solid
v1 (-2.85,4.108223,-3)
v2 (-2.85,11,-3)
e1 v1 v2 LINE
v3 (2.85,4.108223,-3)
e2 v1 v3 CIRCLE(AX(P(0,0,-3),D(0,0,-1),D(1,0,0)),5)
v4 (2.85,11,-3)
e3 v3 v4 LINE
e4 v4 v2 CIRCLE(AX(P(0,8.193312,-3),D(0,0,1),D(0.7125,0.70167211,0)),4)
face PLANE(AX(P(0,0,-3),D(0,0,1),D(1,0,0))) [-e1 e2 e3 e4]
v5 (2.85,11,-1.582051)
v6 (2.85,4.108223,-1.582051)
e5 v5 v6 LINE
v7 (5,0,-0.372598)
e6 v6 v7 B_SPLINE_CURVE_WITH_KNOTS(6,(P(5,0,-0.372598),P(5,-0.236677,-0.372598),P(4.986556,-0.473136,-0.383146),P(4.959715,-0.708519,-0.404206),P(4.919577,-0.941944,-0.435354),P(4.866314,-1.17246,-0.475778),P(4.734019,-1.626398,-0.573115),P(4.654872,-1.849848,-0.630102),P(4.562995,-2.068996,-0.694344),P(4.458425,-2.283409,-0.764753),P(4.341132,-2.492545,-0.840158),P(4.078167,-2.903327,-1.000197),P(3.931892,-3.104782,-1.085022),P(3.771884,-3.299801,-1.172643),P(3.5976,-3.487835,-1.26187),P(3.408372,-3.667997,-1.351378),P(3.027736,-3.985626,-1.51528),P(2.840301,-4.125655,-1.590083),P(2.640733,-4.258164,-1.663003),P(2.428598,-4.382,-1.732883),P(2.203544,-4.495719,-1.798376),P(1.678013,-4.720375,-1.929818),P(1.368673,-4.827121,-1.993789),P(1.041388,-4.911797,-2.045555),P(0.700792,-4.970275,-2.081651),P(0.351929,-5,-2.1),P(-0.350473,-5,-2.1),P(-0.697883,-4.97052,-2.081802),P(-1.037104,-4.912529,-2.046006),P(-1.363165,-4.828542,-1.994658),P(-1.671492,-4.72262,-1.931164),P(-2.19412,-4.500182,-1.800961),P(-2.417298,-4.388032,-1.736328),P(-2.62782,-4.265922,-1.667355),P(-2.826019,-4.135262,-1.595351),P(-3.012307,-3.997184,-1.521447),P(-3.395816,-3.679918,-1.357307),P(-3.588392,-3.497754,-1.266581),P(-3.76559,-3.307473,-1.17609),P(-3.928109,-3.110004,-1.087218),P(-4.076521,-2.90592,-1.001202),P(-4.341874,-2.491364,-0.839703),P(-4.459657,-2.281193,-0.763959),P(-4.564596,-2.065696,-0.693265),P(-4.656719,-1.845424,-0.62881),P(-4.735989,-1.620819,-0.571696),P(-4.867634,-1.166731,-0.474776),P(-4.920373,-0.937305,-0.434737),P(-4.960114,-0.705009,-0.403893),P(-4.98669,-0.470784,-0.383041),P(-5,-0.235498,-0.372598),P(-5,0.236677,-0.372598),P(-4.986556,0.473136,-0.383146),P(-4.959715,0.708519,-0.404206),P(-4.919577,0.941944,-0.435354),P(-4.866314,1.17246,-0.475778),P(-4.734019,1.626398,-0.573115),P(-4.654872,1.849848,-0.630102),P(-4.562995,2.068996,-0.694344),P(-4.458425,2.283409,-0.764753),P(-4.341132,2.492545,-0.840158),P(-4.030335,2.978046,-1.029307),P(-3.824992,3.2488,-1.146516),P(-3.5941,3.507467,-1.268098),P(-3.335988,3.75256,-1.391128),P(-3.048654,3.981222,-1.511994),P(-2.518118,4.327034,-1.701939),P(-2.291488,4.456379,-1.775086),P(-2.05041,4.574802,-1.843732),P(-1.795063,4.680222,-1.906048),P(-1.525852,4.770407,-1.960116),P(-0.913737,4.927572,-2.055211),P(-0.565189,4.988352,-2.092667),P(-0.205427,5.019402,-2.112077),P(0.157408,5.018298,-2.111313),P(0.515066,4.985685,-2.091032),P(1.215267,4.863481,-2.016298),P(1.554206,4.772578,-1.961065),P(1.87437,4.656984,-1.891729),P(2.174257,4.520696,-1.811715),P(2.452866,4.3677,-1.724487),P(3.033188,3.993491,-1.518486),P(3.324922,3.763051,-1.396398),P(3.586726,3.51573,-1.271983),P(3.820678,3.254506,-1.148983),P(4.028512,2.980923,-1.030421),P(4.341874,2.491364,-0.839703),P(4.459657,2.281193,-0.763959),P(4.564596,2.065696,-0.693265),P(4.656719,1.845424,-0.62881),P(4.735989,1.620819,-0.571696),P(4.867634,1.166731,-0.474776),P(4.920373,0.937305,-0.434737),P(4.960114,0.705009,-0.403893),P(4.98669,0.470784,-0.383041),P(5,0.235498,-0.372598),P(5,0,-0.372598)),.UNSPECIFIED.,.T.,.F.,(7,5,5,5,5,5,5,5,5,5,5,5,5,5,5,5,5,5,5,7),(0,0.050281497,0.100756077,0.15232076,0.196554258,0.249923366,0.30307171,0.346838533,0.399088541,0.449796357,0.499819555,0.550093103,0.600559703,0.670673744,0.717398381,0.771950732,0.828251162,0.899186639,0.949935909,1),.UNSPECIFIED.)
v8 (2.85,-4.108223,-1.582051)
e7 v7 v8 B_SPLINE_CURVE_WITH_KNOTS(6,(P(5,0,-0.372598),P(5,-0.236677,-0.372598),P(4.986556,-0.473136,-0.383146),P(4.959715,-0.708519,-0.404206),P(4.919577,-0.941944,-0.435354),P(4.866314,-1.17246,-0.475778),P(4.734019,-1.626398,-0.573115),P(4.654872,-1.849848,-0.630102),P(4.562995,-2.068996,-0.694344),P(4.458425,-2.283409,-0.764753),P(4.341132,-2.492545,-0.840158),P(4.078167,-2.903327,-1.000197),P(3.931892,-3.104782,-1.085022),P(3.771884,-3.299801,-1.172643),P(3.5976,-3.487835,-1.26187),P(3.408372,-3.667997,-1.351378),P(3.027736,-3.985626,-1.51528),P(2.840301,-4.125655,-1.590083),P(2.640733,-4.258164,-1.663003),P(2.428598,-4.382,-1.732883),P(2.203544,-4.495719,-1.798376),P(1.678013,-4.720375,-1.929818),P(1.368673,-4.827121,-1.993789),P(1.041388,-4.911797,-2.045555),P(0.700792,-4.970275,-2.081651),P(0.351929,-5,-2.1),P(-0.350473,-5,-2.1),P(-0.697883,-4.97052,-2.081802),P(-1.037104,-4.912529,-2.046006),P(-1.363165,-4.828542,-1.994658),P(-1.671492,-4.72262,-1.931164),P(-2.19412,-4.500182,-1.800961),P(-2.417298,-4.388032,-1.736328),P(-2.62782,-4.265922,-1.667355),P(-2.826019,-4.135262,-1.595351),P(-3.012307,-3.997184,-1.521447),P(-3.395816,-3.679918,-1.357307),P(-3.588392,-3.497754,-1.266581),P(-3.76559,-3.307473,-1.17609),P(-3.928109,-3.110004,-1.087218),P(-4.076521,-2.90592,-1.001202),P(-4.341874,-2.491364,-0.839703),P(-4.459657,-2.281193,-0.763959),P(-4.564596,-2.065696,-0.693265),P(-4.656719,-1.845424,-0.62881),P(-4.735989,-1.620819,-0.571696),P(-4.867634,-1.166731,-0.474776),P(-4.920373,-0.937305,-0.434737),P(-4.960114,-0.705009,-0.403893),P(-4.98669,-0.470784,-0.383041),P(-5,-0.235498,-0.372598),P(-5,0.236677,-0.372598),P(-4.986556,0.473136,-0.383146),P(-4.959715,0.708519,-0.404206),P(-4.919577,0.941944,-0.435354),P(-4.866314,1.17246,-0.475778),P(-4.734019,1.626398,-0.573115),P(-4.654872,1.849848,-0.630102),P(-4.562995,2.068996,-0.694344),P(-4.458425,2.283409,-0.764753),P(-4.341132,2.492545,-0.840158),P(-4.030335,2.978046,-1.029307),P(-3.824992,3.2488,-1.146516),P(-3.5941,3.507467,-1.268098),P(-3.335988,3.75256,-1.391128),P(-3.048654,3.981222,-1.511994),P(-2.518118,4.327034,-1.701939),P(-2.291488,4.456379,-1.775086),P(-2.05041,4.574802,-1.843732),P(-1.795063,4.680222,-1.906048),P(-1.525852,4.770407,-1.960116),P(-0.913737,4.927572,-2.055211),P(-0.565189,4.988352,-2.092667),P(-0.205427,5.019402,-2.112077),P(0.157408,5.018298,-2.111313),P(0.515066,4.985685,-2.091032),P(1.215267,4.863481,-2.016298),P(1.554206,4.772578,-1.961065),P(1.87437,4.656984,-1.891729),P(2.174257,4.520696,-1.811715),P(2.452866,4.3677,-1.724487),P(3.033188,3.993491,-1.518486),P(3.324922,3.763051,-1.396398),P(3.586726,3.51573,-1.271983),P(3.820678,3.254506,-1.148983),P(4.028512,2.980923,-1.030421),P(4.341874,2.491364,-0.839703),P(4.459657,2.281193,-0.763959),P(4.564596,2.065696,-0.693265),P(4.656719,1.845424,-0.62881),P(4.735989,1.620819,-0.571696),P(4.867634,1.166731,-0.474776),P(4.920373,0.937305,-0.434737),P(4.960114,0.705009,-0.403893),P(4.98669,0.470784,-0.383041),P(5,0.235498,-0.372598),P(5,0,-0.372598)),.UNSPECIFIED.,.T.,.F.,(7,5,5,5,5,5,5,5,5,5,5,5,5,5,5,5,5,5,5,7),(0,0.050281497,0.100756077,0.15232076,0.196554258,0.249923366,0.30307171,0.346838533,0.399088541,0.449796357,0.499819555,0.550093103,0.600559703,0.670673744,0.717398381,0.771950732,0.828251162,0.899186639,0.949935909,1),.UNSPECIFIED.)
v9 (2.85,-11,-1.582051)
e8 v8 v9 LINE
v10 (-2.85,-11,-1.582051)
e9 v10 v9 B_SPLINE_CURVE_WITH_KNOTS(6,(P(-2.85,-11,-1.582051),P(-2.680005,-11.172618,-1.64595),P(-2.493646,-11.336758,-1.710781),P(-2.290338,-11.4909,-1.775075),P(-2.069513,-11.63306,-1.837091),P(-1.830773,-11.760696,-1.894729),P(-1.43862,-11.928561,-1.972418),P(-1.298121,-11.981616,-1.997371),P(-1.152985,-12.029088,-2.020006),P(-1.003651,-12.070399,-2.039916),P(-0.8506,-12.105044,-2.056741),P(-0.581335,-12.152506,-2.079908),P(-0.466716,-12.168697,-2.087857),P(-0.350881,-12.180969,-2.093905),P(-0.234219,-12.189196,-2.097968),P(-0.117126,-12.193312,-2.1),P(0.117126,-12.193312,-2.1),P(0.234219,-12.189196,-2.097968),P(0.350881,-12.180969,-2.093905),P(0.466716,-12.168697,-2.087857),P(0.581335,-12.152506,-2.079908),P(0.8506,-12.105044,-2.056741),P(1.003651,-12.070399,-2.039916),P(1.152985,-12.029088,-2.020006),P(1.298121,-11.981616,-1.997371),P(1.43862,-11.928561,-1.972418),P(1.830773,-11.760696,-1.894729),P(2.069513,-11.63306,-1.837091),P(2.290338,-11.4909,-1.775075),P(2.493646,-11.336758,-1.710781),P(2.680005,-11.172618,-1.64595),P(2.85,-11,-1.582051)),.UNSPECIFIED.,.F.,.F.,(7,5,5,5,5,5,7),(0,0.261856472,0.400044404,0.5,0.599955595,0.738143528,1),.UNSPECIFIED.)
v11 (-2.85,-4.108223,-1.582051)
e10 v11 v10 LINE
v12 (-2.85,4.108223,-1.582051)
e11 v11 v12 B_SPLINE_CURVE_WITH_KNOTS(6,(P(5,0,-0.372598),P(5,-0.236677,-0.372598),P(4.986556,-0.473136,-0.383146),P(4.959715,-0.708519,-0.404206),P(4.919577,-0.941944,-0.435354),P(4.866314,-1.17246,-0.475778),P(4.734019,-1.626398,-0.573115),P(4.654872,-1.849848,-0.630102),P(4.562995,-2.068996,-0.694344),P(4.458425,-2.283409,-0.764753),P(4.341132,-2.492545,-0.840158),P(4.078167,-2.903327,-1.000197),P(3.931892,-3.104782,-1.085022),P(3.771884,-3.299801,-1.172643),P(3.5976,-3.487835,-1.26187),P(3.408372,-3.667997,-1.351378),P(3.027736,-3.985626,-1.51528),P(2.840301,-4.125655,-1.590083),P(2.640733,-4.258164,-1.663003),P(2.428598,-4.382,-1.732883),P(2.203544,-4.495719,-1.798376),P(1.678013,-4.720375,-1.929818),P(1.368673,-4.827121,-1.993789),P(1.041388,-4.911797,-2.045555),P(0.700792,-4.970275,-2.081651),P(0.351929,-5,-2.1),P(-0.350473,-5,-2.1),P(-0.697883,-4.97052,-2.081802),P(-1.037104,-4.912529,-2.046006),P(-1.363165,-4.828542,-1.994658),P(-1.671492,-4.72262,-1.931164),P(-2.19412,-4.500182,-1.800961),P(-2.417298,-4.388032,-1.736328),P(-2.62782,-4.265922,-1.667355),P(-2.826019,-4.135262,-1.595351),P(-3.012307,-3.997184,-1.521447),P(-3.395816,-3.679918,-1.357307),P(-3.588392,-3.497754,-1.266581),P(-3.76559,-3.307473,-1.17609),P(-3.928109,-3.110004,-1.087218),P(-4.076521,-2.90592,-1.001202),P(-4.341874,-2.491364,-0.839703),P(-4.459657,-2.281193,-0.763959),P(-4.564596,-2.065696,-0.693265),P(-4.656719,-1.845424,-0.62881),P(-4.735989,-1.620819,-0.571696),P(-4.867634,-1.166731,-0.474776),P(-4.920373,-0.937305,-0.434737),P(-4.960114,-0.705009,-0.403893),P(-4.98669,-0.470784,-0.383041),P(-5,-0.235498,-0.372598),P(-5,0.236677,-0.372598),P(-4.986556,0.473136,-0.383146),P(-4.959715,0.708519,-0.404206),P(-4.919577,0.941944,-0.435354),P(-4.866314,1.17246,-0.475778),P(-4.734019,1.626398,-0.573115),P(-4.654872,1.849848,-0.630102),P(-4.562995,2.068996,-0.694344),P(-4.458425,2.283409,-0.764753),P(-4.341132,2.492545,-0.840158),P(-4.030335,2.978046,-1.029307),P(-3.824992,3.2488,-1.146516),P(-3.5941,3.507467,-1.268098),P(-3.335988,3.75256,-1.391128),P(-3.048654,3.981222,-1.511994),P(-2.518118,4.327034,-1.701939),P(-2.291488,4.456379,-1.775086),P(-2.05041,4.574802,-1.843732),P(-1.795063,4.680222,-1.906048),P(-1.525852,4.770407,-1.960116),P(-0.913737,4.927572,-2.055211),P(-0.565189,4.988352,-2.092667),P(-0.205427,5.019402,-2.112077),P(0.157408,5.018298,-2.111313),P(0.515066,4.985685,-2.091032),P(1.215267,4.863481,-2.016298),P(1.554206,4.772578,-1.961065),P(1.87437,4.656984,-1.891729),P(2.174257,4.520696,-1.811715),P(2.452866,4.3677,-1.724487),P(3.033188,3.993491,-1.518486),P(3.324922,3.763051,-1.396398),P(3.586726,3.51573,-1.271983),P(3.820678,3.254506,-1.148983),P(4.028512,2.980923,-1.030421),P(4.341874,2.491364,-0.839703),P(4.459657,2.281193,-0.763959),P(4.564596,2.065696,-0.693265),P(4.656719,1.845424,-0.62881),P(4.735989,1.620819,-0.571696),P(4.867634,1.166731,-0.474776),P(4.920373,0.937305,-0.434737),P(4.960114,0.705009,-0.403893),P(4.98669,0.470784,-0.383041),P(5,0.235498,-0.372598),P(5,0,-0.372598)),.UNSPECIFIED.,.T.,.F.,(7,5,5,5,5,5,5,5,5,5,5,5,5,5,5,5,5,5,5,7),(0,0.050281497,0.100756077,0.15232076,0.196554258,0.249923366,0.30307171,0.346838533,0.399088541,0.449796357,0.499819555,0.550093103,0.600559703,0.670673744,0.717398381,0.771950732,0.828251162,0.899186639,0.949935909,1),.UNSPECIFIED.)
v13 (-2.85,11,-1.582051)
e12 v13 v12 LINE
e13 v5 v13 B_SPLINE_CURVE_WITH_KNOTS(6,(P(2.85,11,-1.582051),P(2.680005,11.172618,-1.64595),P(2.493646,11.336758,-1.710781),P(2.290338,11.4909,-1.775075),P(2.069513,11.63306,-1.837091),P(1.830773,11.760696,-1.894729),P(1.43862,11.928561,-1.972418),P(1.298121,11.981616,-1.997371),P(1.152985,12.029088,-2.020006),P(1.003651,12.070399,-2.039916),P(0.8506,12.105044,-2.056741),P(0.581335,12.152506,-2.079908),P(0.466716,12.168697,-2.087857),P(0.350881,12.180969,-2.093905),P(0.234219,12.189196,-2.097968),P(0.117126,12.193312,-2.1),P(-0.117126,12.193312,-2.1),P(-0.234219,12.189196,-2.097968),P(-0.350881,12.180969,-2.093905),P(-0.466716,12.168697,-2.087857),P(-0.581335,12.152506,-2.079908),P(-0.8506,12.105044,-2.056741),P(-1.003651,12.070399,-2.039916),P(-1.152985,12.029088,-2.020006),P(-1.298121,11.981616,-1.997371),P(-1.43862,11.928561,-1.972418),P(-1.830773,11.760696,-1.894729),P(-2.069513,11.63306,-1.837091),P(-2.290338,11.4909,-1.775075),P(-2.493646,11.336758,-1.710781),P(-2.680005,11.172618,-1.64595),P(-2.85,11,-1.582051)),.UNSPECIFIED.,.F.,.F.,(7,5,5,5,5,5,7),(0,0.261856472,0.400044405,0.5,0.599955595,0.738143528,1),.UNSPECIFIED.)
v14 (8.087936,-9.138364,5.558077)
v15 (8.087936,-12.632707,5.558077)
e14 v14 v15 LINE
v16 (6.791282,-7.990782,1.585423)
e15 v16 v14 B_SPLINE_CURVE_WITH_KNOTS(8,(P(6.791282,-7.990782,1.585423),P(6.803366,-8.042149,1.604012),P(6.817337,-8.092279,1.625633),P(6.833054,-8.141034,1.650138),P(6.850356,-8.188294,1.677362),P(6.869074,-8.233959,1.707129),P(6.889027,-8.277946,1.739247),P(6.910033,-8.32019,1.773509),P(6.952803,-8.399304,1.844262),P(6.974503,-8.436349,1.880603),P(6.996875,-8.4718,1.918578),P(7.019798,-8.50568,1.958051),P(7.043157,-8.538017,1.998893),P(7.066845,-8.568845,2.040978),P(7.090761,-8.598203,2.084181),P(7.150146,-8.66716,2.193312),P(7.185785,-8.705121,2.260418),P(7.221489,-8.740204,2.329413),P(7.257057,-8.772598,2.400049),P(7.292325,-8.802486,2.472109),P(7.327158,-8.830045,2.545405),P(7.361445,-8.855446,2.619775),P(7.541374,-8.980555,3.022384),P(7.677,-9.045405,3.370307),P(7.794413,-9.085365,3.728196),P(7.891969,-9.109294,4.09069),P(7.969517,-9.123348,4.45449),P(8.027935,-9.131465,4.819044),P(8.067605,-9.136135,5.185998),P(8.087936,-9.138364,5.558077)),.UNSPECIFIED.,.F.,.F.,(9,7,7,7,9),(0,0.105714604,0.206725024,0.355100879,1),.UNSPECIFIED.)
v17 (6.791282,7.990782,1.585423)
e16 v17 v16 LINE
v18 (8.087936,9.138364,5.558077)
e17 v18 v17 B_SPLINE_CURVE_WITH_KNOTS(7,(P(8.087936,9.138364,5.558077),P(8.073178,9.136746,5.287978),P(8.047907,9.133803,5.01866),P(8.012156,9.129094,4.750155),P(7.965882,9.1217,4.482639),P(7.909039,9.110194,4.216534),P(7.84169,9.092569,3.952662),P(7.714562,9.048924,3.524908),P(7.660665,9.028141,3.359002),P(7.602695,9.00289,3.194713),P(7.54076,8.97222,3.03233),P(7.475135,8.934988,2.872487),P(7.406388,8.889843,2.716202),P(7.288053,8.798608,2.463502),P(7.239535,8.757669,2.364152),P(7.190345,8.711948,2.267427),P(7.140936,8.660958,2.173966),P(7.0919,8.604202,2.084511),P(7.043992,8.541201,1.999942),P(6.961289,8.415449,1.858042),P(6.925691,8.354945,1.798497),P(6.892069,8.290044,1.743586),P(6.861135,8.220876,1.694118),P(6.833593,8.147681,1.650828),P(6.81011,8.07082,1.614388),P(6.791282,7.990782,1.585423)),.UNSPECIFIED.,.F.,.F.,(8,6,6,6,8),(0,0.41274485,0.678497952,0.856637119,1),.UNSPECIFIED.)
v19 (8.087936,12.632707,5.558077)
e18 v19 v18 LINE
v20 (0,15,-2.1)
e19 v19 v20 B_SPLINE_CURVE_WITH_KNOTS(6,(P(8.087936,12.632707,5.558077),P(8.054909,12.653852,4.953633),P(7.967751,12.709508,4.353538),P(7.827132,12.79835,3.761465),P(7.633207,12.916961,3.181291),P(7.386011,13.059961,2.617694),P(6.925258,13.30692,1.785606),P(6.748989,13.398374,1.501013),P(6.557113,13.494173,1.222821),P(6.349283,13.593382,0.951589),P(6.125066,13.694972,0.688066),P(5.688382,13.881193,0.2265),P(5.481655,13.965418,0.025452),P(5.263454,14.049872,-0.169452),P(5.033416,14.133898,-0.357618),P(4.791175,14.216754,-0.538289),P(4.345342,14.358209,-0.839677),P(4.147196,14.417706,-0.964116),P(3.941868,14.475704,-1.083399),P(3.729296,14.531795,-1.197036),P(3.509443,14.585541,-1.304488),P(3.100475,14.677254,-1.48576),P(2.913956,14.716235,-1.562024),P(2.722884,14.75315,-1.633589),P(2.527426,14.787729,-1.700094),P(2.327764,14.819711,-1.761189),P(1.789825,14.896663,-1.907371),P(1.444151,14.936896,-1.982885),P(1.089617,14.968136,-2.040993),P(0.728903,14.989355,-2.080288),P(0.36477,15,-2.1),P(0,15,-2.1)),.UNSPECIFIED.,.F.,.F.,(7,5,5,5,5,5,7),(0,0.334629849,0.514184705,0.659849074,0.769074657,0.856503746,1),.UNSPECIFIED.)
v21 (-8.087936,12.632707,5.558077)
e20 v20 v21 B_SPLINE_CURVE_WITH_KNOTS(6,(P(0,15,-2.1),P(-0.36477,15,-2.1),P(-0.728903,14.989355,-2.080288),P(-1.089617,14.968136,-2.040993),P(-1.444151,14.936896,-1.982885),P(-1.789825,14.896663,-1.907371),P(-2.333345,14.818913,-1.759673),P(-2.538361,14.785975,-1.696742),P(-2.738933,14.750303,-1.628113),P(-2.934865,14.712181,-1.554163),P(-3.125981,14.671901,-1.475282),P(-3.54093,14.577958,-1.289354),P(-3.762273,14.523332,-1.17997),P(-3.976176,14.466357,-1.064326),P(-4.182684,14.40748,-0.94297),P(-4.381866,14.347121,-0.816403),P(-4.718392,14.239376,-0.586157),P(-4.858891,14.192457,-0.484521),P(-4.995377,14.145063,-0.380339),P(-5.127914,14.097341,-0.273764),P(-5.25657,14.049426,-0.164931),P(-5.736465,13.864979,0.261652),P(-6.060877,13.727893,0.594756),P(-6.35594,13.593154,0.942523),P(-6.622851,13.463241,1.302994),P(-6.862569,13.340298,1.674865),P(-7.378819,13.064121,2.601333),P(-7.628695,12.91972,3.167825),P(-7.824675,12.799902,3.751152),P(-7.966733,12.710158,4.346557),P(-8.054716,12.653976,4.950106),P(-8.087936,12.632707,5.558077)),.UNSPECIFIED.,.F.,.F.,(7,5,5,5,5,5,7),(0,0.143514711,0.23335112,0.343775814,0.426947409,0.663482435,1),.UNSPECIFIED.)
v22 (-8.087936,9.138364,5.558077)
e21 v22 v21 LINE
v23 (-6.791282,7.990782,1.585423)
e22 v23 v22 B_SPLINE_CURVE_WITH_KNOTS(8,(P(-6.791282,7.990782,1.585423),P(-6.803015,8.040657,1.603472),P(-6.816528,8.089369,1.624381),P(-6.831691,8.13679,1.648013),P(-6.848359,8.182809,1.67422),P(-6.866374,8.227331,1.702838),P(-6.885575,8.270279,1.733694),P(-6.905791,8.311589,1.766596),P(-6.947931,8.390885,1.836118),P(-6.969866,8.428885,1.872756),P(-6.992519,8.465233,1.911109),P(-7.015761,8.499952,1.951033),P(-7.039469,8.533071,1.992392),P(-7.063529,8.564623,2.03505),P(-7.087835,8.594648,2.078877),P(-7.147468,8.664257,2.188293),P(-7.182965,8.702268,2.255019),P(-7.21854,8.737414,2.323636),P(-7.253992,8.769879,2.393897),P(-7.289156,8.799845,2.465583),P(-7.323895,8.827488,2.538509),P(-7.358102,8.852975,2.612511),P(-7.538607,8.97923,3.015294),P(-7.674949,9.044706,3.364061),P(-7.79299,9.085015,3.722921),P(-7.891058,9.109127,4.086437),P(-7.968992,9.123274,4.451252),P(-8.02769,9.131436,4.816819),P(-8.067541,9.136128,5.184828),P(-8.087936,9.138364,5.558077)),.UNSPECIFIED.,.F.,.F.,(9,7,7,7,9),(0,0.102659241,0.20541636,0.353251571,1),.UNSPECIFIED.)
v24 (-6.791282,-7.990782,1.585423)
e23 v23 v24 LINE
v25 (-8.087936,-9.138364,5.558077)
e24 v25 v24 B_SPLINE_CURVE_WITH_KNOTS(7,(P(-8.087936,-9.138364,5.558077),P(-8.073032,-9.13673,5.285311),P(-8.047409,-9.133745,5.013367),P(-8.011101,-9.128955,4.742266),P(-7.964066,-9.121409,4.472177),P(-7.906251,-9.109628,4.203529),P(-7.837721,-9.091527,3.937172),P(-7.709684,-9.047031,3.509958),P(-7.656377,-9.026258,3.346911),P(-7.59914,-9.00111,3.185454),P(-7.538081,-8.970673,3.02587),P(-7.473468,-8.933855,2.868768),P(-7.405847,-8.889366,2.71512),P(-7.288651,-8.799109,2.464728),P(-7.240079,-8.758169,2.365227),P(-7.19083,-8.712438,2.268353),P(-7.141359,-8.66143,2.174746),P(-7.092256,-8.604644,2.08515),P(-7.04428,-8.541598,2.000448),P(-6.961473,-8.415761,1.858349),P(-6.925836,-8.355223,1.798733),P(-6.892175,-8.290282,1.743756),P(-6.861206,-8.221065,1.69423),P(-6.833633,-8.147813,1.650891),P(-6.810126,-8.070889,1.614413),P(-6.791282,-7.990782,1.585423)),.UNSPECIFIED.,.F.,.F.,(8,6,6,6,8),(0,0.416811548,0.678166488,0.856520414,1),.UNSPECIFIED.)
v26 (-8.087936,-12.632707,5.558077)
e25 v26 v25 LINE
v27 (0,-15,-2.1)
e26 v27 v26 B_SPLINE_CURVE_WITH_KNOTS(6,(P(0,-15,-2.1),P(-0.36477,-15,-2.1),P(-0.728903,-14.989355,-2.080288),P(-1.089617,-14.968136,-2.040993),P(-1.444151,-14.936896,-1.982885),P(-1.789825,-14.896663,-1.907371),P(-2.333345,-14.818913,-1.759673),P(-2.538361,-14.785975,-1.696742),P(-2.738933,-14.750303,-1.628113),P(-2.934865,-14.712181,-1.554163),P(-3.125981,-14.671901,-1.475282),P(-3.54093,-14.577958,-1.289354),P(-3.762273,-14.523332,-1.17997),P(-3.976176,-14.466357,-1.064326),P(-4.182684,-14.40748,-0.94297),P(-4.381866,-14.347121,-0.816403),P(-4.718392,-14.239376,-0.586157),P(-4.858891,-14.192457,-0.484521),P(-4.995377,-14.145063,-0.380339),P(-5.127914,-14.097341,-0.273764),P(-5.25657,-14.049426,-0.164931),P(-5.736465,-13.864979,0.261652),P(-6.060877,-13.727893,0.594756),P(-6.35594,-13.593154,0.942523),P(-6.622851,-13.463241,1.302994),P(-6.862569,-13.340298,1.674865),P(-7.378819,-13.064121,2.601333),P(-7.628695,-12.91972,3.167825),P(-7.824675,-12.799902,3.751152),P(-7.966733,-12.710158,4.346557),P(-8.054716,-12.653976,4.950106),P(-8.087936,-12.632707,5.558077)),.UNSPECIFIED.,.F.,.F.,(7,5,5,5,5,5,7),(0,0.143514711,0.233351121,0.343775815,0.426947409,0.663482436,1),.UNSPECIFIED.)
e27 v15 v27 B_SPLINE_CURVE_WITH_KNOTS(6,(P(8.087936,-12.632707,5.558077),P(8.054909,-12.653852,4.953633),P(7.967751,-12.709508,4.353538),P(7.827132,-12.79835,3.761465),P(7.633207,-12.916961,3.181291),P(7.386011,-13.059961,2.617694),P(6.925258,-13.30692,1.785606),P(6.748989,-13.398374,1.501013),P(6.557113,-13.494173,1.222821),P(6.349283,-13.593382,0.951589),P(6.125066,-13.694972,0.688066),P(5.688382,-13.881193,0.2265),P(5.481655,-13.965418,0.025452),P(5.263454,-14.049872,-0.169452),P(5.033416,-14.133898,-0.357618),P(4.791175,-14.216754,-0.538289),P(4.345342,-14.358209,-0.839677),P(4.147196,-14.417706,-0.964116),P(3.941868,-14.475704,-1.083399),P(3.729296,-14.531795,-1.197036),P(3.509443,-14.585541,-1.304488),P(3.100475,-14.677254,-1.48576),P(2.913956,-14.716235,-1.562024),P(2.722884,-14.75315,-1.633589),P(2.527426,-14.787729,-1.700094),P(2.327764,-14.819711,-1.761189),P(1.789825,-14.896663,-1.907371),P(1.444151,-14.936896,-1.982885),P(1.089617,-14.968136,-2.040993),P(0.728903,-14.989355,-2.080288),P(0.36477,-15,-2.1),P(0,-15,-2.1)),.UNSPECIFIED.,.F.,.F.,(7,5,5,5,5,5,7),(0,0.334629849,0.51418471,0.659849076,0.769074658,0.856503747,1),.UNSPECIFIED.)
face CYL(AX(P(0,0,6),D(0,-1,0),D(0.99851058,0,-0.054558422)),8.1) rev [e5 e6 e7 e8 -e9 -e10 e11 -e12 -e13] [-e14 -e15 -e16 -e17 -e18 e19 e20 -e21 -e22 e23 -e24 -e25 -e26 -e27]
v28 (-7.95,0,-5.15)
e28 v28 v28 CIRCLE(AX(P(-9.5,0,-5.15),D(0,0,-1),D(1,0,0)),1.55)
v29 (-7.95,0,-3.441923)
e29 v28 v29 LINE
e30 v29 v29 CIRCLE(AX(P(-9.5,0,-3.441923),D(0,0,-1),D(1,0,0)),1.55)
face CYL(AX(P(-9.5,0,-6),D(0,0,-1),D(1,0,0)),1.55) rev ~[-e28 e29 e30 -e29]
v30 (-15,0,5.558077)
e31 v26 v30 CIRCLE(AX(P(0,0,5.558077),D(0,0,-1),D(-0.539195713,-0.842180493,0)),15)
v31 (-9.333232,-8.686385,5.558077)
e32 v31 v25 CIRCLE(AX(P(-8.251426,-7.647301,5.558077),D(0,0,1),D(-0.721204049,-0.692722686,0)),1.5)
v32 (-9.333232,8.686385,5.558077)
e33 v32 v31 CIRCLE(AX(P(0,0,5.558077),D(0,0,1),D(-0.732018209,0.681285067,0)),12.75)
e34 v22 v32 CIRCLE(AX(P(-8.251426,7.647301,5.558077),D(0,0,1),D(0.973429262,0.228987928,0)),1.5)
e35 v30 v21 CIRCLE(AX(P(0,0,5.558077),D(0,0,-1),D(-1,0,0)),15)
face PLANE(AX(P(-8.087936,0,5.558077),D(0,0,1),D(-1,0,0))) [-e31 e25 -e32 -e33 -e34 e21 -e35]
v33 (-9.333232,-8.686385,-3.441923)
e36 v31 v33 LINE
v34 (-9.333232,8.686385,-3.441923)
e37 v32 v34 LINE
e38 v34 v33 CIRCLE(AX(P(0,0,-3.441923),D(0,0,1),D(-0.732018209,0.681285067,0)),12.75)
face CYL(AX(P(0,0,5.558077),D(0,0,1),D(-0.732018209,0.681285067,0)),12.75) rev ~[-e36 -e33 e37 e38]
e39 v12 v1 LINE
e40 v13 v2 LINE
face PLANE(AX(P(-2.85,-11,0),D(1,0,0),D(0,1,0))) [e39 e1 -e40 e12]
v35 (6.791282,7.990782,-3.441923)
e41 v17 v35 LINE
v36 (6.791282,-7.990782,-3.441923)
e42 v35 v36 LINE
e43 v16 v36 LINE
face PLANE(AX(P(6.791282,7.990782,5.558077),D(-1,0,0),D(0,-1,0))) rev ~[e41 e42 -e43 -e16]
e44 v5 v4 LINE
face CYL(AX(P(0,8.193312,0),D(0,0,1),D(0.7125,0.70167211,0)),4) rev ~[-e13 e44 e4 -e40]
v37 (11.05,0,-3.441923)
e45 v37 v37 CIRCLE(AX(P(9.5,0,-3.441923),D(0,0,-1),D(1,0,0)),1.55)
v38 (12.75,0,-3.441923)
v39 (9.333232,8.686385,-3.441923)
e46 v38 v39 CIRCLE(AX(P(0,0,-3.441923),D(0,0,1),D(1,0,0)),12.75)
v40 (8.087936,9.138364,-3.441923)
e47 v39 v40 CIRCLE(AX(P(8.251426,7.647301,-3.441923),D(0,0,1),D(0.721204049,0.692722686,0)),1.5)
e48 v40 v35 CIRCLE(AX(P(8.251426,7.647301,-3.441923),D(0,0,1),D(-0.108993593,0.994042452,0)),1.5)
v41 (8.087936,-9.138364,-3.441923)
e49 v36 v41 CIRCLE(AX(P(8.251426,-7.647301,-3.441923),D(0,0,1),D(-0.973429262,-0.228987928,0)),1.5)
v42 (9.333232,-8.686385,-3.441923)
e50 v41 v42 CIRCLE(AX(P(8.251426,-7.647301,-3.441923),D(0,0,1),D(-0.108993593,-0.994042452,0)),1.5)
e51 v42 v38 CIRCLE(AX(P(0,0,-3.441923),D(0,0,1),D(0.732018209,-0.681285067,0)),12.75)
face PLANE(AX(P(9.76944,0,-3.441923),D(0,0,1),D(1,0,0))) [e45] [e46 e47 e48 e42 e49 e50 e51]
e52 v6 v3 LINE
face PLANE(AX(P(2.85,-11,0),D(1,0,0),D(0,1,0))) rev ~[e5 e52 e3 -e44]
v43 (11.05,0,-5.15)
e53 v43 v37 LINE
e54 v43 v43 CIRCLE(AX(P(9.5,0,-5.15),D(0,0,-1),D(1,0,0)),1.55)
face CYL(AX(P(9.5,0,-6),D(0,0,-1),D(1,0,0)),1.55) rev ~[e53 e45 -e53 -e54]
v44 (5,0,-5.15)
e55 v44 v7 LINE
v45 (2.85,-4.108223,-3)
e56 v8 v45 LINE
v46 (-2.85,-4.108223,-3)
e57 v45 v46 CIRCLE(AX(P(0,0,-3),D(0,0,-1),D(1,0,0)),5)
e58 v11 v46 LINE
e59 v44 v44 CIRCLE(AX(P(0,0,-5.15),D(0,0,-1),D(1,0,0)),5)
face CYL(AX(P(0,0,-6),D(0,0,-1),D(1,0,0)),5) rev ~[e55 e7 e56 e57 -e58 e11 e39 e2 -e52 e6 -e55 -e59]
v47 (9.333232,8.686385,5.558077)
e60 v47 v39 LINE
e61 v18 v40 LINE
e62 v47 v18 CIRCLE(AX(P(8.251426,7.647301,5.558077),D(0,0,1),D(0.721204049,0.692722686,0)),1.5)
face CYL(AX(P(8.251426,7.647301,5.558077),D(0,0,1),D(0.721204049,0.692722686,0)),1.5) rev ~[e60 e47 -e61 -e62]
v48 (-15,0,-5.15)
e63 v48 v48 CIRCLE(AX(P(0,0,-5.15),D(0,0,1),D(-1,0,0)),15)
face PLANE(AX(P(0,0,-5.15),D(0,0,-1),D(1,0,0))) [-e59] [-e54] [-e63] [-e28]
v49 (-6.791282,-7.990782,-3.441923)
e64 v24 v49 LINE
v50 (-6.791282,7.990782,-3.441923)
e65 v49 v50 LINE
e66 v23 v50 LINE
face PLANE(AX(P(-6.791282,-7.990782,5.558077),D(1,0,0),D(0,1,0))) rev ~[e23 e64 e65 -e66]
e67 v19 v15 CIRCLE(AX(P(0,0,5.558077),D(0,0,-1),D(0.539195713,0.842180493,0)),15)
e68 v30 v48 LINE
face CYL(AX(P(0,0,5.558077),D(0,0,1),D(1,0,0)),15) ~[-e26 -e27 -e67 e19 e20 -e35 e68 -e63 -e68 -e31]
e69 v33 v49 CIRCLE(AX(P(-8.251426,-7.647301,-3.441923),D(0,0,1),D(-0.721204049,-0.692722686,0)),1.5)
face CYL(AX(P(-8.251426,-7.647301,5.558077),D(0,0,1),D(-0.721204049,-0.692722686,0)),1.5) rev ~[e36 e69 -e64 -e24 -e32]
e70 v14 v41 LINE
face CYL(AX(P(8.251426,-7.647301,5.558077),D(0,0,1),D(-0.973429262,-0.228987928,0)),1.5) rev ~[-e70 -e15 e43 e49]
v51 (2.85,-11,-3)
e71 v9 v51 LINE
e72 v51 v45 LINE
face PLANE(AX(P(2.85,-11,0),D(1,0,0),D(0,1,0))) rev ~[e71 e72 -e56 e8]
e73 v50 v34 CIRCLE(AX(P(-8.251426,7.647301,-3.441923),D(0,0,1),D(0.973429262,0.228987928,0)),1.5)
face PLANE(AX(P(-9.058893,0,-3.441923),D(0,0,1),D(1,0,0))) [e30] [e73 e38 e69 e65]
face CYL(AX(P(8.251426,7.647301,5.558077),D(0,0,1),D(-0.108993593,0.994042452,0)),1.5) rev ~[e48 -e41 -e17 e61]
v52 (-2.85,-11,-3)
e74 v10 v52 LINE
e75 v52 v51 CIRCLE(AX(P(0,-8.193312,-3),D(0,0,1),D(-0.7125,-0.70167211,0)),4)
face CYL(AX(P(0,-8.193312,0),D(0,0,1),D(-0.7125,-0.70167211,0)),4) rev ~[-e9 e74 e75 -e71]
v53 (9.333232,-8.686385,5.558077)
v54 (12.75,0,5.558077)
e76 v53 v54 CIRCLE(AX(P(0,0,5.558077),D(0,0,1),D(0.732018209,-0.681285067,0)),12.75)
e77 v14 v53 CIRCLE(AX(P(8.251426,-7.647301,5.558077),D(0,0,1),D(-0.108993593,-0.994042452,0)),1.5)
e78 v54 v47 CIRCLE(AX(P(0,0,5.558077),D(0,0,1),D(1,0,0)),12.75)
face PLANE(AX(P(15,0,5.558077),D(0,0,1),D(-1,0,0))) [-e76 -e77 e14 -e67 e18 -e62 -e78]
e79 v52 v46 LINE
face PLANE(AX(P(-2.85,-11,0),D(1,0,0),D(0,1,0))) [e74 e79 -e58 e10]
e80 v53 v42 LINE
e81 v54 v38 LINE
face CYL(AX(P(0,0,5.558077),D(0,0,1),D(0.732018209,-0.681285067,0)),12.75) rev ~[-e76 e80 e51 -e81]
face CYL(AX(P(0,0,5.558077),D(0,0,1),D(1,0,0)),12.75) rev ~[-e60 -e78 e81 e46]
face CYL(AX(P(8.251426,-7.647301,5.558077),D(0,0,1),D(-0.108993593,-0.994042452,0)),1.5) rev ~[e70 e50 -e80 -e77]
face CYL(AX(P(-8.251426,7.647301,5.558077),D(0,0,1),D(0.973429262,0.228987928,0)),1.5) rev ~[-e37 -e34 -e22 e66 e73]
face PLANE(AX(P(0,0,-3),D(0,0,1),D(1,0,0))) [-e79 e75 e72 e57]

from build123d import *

# Parameters (mm, degrees)
F1_DEPTH  = 15
F3_DEPTH  = 12
F5_DEPTH  = 9
F6_R      = 5
F7_DEPTH  = 12
F8_R      = 1.55
F9_DEPTH  = 12
F10_W     = 5.7
F10_H     = 22
F11_DEPTH = 3
F12_R     = 15
F12_R_2   = 1.55
F12_R_3   = 5
F13_DEPTH = 0.85


with BuildPart() as f1:
    # F0 (on Front) → F1 (new body, symmetric)
    with BuildSketch(Plane.XZ):
        with BuildLine():
            Line((-15, -6), (0, -6))
            Line((0, -6), (0, -2.1))
            ThreePointArc((0, -2.1), (-5.5691301799, 0.1182664936), (-8.0879356988, 5.5580767803))
            Line((-8.0879356988, 5.5580767803), (-15, 5.5580767803))
            Line((-15, 5.5580767803), (-15, -6))
        make_face()
        with BuildLine():
            Line((0, -6), (15, -6))
            Line((15, -6), (15, 5.5580767803))
            Line((15, 5.5580767803), (8.0879356988, 5.5580767803))
            ThreePointArc((8.0879356988, 5.5580767803), (5.5691301799, 0.1182664936), (0, -2.1))
            Line((0, -2.1), (0, -6))
        make_face()
    extrude(amount=F1_DEPTH, both=True)

    # F2 (on face) → F3 (cut)
    with BuildSketch(Plane.XY.offset(5.5580767803)):
        with BuildLine():
            Line((-8.0879356988, -15), (-8.0879356988, -12.6327073952))
            ThreePointArc((-8.0879356988, -12.6327073952), (-13.1590089963, -7.2000334884), (-15, 3.9e-09))
            Line((-15, 3.9e-09), (-15, -15))
            Line((-15, -15), (-8.0879356988, -15))
        make_face()
        with BuildLine():
            Line((-8.0879356988, -15), (0, -15))
            ThreePointArc((0, -15), (-4.2136319887, -14.396017), (-8.0879356988, -12.6327073952))
            Line((-8.0879356988, -12.6327073952), (-8.0879356988, -15))
        make_face()
        with BuildLine():
            ThreePointArc((-15, 3.9e-09), (-13.1590089945, 7.2000334918), (-8.0879356988, 12.6327073952))
            Line((-8.0879356988, 12.6327073952), (-8.0879356988, 15))
            Line((-8.0879356988, 15), (-15, 15))
            Line((-15, 15), (-15, 3.9e-09))
        make_face()
        with BuildLine():
            ThreePointArc((-8.0879356988, 12.6327073952), (-4.2136319887, 14.396017), (0, 15))
            Line((0, 15), (-8.0879356988, 15))
            Line((-8.0879356988, 15), (-8.0879356988, 12.6327073952))
        make_face()
        with BuildLine():
            ThreePointArc((0, 15), (10.6066017178, 10.6066017178), (15, 0))
            Line((15, 0), (15, 15))
            Line((15, 15), (0, 15))
        make_face()
        with BuildLine():
            Line((15, -15), (15, 0))
            ThreePointArc((15, 0), (10.6066017178, -10.6066017178), (0, -15))
            Line((0, -15), (15, -15))
        make_face()
    extrude(amount=-F3_DEPTH, mode=Mode.SUBTRACT)

    # F4 (on face) → F5 (cut)
    with BuildSketch(Plane.XY.offset(5.5580767803)):
        with BuildLine():
            ThreePointArc((-6.7912821949, 7.9907824623), (-7.8555088498, 9.0941072404), (-9.3332321619, 8.6863845995))
            ThreePointArc((-9.3332321619, 8.6863845995), (-12.75, 0), (-9.3332321619, -8.6863845995))
            ThreePointArc((-9.3332321619, -8.6863845995), (-7.8555088498, -9.0941072404), (-6.7912821949, -7.9907824623))
            Line((-6.7912821949, -7.9907824623), (-6.7912821949, 7.9907824623))
        make_face()
        with BuildLine():
            ThreePointArc((9.3332321619, -8.6863845995), (11.8651002959, -4.6671077733), (12.75, 0))
            ThreePointArc((12.75, 0), (11.8651002959, 4.6671077733), (9.3332321619, 8.6863845995))
            ThreePointArc((9.3332321619, 8.6863845995), (8.7631851378, 9.0573015192), (8.0879356988, 9.1383642487))
            Line((8.0879356988, 9.1383642487), (8.0879356988, -9.1383642487))
            ThreePointArc((8.0879356988, -9.1383642487), (8.7631851378, -9.0573015192), (9.3332321619, -8.6863845995))
        make_face()
        with BuildLine():
            Line((8.0879356988, -9.1383642487), (8.0879356988, 9.1383642487))
            ThreePointArc((8.0879356988, 9.1383642487), (7.2573018203, 8.7705623118), (6.7912821949, 7.9907824623))
            Line((6.7912821949, 7.9907824623), (6.7912821949, -7.9907824623))
            ThreePointArc((6.7912821949, -7.9907824623), (7.2573018203, -8.7705623118), (8.0879356988, -9.1383642487))
        make_face()
    extrude(amount=-F5_DEPTH, mode=Mode.SUBTRACT)

    # F6 (on face) → F7 (cut)
    with BuildSketch(Plane(origin=(0, 0, -6), x_dir=(1, 0, 0), z_dir=(0, 0, -1))):
        Circle(F6_R)
    extrude(amount=-F7_DEPTH, mode=Mode.SUBTRACT)

    # F8 (on face) → F9 (cut)
    with BuildSketch(Plane(origin=(0, 0, -6), x_dir=(1, 0, 0), z_dir=(0, 0, -1))):
        with Locations((-9.5, 0)):
            Circle(F8_R)
        with Locations((9.5, 0)):
            Circle(F8_R)
    extrude(amount=-F9_DEPTH, mode=Mode.SUBTRACT)

    # F10 (on Top) → F11 (cut)
    with BuildSketch(Plane.XY):
        Rectangle(F10_W, F10_H)
        with BuildLine():
            Line((-2.85, 11), (2.85, 11))
            ThreePointArc((2.85, 11), (0, 12.1933115599), (-2.85, 11))
        make_face()
        with BuildLine():
            ThreePointArc((-2.85, -11), (0, -12.1933115599), (2.85, -11))
            Line((2.85, -11), (-2.85, -11))
        make_face()
    extrude(amount=-F11_DEPTH, mode=Mode.SUBTRACT)

    # F12 (on face) → F13 (cut)
    with BuildSketch(Plane(origin=(0, 0, -6), x_dir=(1, 0, 0), z_dir=(0, 0, -1))):
        Circle(F12_R)
        with Locations((-9.5, 0)):
            Circle(F12_R_2, mode=Mode.SUBTRACT)
        Circle(F12_R_3, mode=Mode.SUBTRACT)
        with Locations((9.5, 0)):
            Circle(F12_R_2, mode=Mode.SUBTRACT)
    extrude(amount=-F13_DEPTH, mode=Mode.SUBTRACT)


solid = f1.part
